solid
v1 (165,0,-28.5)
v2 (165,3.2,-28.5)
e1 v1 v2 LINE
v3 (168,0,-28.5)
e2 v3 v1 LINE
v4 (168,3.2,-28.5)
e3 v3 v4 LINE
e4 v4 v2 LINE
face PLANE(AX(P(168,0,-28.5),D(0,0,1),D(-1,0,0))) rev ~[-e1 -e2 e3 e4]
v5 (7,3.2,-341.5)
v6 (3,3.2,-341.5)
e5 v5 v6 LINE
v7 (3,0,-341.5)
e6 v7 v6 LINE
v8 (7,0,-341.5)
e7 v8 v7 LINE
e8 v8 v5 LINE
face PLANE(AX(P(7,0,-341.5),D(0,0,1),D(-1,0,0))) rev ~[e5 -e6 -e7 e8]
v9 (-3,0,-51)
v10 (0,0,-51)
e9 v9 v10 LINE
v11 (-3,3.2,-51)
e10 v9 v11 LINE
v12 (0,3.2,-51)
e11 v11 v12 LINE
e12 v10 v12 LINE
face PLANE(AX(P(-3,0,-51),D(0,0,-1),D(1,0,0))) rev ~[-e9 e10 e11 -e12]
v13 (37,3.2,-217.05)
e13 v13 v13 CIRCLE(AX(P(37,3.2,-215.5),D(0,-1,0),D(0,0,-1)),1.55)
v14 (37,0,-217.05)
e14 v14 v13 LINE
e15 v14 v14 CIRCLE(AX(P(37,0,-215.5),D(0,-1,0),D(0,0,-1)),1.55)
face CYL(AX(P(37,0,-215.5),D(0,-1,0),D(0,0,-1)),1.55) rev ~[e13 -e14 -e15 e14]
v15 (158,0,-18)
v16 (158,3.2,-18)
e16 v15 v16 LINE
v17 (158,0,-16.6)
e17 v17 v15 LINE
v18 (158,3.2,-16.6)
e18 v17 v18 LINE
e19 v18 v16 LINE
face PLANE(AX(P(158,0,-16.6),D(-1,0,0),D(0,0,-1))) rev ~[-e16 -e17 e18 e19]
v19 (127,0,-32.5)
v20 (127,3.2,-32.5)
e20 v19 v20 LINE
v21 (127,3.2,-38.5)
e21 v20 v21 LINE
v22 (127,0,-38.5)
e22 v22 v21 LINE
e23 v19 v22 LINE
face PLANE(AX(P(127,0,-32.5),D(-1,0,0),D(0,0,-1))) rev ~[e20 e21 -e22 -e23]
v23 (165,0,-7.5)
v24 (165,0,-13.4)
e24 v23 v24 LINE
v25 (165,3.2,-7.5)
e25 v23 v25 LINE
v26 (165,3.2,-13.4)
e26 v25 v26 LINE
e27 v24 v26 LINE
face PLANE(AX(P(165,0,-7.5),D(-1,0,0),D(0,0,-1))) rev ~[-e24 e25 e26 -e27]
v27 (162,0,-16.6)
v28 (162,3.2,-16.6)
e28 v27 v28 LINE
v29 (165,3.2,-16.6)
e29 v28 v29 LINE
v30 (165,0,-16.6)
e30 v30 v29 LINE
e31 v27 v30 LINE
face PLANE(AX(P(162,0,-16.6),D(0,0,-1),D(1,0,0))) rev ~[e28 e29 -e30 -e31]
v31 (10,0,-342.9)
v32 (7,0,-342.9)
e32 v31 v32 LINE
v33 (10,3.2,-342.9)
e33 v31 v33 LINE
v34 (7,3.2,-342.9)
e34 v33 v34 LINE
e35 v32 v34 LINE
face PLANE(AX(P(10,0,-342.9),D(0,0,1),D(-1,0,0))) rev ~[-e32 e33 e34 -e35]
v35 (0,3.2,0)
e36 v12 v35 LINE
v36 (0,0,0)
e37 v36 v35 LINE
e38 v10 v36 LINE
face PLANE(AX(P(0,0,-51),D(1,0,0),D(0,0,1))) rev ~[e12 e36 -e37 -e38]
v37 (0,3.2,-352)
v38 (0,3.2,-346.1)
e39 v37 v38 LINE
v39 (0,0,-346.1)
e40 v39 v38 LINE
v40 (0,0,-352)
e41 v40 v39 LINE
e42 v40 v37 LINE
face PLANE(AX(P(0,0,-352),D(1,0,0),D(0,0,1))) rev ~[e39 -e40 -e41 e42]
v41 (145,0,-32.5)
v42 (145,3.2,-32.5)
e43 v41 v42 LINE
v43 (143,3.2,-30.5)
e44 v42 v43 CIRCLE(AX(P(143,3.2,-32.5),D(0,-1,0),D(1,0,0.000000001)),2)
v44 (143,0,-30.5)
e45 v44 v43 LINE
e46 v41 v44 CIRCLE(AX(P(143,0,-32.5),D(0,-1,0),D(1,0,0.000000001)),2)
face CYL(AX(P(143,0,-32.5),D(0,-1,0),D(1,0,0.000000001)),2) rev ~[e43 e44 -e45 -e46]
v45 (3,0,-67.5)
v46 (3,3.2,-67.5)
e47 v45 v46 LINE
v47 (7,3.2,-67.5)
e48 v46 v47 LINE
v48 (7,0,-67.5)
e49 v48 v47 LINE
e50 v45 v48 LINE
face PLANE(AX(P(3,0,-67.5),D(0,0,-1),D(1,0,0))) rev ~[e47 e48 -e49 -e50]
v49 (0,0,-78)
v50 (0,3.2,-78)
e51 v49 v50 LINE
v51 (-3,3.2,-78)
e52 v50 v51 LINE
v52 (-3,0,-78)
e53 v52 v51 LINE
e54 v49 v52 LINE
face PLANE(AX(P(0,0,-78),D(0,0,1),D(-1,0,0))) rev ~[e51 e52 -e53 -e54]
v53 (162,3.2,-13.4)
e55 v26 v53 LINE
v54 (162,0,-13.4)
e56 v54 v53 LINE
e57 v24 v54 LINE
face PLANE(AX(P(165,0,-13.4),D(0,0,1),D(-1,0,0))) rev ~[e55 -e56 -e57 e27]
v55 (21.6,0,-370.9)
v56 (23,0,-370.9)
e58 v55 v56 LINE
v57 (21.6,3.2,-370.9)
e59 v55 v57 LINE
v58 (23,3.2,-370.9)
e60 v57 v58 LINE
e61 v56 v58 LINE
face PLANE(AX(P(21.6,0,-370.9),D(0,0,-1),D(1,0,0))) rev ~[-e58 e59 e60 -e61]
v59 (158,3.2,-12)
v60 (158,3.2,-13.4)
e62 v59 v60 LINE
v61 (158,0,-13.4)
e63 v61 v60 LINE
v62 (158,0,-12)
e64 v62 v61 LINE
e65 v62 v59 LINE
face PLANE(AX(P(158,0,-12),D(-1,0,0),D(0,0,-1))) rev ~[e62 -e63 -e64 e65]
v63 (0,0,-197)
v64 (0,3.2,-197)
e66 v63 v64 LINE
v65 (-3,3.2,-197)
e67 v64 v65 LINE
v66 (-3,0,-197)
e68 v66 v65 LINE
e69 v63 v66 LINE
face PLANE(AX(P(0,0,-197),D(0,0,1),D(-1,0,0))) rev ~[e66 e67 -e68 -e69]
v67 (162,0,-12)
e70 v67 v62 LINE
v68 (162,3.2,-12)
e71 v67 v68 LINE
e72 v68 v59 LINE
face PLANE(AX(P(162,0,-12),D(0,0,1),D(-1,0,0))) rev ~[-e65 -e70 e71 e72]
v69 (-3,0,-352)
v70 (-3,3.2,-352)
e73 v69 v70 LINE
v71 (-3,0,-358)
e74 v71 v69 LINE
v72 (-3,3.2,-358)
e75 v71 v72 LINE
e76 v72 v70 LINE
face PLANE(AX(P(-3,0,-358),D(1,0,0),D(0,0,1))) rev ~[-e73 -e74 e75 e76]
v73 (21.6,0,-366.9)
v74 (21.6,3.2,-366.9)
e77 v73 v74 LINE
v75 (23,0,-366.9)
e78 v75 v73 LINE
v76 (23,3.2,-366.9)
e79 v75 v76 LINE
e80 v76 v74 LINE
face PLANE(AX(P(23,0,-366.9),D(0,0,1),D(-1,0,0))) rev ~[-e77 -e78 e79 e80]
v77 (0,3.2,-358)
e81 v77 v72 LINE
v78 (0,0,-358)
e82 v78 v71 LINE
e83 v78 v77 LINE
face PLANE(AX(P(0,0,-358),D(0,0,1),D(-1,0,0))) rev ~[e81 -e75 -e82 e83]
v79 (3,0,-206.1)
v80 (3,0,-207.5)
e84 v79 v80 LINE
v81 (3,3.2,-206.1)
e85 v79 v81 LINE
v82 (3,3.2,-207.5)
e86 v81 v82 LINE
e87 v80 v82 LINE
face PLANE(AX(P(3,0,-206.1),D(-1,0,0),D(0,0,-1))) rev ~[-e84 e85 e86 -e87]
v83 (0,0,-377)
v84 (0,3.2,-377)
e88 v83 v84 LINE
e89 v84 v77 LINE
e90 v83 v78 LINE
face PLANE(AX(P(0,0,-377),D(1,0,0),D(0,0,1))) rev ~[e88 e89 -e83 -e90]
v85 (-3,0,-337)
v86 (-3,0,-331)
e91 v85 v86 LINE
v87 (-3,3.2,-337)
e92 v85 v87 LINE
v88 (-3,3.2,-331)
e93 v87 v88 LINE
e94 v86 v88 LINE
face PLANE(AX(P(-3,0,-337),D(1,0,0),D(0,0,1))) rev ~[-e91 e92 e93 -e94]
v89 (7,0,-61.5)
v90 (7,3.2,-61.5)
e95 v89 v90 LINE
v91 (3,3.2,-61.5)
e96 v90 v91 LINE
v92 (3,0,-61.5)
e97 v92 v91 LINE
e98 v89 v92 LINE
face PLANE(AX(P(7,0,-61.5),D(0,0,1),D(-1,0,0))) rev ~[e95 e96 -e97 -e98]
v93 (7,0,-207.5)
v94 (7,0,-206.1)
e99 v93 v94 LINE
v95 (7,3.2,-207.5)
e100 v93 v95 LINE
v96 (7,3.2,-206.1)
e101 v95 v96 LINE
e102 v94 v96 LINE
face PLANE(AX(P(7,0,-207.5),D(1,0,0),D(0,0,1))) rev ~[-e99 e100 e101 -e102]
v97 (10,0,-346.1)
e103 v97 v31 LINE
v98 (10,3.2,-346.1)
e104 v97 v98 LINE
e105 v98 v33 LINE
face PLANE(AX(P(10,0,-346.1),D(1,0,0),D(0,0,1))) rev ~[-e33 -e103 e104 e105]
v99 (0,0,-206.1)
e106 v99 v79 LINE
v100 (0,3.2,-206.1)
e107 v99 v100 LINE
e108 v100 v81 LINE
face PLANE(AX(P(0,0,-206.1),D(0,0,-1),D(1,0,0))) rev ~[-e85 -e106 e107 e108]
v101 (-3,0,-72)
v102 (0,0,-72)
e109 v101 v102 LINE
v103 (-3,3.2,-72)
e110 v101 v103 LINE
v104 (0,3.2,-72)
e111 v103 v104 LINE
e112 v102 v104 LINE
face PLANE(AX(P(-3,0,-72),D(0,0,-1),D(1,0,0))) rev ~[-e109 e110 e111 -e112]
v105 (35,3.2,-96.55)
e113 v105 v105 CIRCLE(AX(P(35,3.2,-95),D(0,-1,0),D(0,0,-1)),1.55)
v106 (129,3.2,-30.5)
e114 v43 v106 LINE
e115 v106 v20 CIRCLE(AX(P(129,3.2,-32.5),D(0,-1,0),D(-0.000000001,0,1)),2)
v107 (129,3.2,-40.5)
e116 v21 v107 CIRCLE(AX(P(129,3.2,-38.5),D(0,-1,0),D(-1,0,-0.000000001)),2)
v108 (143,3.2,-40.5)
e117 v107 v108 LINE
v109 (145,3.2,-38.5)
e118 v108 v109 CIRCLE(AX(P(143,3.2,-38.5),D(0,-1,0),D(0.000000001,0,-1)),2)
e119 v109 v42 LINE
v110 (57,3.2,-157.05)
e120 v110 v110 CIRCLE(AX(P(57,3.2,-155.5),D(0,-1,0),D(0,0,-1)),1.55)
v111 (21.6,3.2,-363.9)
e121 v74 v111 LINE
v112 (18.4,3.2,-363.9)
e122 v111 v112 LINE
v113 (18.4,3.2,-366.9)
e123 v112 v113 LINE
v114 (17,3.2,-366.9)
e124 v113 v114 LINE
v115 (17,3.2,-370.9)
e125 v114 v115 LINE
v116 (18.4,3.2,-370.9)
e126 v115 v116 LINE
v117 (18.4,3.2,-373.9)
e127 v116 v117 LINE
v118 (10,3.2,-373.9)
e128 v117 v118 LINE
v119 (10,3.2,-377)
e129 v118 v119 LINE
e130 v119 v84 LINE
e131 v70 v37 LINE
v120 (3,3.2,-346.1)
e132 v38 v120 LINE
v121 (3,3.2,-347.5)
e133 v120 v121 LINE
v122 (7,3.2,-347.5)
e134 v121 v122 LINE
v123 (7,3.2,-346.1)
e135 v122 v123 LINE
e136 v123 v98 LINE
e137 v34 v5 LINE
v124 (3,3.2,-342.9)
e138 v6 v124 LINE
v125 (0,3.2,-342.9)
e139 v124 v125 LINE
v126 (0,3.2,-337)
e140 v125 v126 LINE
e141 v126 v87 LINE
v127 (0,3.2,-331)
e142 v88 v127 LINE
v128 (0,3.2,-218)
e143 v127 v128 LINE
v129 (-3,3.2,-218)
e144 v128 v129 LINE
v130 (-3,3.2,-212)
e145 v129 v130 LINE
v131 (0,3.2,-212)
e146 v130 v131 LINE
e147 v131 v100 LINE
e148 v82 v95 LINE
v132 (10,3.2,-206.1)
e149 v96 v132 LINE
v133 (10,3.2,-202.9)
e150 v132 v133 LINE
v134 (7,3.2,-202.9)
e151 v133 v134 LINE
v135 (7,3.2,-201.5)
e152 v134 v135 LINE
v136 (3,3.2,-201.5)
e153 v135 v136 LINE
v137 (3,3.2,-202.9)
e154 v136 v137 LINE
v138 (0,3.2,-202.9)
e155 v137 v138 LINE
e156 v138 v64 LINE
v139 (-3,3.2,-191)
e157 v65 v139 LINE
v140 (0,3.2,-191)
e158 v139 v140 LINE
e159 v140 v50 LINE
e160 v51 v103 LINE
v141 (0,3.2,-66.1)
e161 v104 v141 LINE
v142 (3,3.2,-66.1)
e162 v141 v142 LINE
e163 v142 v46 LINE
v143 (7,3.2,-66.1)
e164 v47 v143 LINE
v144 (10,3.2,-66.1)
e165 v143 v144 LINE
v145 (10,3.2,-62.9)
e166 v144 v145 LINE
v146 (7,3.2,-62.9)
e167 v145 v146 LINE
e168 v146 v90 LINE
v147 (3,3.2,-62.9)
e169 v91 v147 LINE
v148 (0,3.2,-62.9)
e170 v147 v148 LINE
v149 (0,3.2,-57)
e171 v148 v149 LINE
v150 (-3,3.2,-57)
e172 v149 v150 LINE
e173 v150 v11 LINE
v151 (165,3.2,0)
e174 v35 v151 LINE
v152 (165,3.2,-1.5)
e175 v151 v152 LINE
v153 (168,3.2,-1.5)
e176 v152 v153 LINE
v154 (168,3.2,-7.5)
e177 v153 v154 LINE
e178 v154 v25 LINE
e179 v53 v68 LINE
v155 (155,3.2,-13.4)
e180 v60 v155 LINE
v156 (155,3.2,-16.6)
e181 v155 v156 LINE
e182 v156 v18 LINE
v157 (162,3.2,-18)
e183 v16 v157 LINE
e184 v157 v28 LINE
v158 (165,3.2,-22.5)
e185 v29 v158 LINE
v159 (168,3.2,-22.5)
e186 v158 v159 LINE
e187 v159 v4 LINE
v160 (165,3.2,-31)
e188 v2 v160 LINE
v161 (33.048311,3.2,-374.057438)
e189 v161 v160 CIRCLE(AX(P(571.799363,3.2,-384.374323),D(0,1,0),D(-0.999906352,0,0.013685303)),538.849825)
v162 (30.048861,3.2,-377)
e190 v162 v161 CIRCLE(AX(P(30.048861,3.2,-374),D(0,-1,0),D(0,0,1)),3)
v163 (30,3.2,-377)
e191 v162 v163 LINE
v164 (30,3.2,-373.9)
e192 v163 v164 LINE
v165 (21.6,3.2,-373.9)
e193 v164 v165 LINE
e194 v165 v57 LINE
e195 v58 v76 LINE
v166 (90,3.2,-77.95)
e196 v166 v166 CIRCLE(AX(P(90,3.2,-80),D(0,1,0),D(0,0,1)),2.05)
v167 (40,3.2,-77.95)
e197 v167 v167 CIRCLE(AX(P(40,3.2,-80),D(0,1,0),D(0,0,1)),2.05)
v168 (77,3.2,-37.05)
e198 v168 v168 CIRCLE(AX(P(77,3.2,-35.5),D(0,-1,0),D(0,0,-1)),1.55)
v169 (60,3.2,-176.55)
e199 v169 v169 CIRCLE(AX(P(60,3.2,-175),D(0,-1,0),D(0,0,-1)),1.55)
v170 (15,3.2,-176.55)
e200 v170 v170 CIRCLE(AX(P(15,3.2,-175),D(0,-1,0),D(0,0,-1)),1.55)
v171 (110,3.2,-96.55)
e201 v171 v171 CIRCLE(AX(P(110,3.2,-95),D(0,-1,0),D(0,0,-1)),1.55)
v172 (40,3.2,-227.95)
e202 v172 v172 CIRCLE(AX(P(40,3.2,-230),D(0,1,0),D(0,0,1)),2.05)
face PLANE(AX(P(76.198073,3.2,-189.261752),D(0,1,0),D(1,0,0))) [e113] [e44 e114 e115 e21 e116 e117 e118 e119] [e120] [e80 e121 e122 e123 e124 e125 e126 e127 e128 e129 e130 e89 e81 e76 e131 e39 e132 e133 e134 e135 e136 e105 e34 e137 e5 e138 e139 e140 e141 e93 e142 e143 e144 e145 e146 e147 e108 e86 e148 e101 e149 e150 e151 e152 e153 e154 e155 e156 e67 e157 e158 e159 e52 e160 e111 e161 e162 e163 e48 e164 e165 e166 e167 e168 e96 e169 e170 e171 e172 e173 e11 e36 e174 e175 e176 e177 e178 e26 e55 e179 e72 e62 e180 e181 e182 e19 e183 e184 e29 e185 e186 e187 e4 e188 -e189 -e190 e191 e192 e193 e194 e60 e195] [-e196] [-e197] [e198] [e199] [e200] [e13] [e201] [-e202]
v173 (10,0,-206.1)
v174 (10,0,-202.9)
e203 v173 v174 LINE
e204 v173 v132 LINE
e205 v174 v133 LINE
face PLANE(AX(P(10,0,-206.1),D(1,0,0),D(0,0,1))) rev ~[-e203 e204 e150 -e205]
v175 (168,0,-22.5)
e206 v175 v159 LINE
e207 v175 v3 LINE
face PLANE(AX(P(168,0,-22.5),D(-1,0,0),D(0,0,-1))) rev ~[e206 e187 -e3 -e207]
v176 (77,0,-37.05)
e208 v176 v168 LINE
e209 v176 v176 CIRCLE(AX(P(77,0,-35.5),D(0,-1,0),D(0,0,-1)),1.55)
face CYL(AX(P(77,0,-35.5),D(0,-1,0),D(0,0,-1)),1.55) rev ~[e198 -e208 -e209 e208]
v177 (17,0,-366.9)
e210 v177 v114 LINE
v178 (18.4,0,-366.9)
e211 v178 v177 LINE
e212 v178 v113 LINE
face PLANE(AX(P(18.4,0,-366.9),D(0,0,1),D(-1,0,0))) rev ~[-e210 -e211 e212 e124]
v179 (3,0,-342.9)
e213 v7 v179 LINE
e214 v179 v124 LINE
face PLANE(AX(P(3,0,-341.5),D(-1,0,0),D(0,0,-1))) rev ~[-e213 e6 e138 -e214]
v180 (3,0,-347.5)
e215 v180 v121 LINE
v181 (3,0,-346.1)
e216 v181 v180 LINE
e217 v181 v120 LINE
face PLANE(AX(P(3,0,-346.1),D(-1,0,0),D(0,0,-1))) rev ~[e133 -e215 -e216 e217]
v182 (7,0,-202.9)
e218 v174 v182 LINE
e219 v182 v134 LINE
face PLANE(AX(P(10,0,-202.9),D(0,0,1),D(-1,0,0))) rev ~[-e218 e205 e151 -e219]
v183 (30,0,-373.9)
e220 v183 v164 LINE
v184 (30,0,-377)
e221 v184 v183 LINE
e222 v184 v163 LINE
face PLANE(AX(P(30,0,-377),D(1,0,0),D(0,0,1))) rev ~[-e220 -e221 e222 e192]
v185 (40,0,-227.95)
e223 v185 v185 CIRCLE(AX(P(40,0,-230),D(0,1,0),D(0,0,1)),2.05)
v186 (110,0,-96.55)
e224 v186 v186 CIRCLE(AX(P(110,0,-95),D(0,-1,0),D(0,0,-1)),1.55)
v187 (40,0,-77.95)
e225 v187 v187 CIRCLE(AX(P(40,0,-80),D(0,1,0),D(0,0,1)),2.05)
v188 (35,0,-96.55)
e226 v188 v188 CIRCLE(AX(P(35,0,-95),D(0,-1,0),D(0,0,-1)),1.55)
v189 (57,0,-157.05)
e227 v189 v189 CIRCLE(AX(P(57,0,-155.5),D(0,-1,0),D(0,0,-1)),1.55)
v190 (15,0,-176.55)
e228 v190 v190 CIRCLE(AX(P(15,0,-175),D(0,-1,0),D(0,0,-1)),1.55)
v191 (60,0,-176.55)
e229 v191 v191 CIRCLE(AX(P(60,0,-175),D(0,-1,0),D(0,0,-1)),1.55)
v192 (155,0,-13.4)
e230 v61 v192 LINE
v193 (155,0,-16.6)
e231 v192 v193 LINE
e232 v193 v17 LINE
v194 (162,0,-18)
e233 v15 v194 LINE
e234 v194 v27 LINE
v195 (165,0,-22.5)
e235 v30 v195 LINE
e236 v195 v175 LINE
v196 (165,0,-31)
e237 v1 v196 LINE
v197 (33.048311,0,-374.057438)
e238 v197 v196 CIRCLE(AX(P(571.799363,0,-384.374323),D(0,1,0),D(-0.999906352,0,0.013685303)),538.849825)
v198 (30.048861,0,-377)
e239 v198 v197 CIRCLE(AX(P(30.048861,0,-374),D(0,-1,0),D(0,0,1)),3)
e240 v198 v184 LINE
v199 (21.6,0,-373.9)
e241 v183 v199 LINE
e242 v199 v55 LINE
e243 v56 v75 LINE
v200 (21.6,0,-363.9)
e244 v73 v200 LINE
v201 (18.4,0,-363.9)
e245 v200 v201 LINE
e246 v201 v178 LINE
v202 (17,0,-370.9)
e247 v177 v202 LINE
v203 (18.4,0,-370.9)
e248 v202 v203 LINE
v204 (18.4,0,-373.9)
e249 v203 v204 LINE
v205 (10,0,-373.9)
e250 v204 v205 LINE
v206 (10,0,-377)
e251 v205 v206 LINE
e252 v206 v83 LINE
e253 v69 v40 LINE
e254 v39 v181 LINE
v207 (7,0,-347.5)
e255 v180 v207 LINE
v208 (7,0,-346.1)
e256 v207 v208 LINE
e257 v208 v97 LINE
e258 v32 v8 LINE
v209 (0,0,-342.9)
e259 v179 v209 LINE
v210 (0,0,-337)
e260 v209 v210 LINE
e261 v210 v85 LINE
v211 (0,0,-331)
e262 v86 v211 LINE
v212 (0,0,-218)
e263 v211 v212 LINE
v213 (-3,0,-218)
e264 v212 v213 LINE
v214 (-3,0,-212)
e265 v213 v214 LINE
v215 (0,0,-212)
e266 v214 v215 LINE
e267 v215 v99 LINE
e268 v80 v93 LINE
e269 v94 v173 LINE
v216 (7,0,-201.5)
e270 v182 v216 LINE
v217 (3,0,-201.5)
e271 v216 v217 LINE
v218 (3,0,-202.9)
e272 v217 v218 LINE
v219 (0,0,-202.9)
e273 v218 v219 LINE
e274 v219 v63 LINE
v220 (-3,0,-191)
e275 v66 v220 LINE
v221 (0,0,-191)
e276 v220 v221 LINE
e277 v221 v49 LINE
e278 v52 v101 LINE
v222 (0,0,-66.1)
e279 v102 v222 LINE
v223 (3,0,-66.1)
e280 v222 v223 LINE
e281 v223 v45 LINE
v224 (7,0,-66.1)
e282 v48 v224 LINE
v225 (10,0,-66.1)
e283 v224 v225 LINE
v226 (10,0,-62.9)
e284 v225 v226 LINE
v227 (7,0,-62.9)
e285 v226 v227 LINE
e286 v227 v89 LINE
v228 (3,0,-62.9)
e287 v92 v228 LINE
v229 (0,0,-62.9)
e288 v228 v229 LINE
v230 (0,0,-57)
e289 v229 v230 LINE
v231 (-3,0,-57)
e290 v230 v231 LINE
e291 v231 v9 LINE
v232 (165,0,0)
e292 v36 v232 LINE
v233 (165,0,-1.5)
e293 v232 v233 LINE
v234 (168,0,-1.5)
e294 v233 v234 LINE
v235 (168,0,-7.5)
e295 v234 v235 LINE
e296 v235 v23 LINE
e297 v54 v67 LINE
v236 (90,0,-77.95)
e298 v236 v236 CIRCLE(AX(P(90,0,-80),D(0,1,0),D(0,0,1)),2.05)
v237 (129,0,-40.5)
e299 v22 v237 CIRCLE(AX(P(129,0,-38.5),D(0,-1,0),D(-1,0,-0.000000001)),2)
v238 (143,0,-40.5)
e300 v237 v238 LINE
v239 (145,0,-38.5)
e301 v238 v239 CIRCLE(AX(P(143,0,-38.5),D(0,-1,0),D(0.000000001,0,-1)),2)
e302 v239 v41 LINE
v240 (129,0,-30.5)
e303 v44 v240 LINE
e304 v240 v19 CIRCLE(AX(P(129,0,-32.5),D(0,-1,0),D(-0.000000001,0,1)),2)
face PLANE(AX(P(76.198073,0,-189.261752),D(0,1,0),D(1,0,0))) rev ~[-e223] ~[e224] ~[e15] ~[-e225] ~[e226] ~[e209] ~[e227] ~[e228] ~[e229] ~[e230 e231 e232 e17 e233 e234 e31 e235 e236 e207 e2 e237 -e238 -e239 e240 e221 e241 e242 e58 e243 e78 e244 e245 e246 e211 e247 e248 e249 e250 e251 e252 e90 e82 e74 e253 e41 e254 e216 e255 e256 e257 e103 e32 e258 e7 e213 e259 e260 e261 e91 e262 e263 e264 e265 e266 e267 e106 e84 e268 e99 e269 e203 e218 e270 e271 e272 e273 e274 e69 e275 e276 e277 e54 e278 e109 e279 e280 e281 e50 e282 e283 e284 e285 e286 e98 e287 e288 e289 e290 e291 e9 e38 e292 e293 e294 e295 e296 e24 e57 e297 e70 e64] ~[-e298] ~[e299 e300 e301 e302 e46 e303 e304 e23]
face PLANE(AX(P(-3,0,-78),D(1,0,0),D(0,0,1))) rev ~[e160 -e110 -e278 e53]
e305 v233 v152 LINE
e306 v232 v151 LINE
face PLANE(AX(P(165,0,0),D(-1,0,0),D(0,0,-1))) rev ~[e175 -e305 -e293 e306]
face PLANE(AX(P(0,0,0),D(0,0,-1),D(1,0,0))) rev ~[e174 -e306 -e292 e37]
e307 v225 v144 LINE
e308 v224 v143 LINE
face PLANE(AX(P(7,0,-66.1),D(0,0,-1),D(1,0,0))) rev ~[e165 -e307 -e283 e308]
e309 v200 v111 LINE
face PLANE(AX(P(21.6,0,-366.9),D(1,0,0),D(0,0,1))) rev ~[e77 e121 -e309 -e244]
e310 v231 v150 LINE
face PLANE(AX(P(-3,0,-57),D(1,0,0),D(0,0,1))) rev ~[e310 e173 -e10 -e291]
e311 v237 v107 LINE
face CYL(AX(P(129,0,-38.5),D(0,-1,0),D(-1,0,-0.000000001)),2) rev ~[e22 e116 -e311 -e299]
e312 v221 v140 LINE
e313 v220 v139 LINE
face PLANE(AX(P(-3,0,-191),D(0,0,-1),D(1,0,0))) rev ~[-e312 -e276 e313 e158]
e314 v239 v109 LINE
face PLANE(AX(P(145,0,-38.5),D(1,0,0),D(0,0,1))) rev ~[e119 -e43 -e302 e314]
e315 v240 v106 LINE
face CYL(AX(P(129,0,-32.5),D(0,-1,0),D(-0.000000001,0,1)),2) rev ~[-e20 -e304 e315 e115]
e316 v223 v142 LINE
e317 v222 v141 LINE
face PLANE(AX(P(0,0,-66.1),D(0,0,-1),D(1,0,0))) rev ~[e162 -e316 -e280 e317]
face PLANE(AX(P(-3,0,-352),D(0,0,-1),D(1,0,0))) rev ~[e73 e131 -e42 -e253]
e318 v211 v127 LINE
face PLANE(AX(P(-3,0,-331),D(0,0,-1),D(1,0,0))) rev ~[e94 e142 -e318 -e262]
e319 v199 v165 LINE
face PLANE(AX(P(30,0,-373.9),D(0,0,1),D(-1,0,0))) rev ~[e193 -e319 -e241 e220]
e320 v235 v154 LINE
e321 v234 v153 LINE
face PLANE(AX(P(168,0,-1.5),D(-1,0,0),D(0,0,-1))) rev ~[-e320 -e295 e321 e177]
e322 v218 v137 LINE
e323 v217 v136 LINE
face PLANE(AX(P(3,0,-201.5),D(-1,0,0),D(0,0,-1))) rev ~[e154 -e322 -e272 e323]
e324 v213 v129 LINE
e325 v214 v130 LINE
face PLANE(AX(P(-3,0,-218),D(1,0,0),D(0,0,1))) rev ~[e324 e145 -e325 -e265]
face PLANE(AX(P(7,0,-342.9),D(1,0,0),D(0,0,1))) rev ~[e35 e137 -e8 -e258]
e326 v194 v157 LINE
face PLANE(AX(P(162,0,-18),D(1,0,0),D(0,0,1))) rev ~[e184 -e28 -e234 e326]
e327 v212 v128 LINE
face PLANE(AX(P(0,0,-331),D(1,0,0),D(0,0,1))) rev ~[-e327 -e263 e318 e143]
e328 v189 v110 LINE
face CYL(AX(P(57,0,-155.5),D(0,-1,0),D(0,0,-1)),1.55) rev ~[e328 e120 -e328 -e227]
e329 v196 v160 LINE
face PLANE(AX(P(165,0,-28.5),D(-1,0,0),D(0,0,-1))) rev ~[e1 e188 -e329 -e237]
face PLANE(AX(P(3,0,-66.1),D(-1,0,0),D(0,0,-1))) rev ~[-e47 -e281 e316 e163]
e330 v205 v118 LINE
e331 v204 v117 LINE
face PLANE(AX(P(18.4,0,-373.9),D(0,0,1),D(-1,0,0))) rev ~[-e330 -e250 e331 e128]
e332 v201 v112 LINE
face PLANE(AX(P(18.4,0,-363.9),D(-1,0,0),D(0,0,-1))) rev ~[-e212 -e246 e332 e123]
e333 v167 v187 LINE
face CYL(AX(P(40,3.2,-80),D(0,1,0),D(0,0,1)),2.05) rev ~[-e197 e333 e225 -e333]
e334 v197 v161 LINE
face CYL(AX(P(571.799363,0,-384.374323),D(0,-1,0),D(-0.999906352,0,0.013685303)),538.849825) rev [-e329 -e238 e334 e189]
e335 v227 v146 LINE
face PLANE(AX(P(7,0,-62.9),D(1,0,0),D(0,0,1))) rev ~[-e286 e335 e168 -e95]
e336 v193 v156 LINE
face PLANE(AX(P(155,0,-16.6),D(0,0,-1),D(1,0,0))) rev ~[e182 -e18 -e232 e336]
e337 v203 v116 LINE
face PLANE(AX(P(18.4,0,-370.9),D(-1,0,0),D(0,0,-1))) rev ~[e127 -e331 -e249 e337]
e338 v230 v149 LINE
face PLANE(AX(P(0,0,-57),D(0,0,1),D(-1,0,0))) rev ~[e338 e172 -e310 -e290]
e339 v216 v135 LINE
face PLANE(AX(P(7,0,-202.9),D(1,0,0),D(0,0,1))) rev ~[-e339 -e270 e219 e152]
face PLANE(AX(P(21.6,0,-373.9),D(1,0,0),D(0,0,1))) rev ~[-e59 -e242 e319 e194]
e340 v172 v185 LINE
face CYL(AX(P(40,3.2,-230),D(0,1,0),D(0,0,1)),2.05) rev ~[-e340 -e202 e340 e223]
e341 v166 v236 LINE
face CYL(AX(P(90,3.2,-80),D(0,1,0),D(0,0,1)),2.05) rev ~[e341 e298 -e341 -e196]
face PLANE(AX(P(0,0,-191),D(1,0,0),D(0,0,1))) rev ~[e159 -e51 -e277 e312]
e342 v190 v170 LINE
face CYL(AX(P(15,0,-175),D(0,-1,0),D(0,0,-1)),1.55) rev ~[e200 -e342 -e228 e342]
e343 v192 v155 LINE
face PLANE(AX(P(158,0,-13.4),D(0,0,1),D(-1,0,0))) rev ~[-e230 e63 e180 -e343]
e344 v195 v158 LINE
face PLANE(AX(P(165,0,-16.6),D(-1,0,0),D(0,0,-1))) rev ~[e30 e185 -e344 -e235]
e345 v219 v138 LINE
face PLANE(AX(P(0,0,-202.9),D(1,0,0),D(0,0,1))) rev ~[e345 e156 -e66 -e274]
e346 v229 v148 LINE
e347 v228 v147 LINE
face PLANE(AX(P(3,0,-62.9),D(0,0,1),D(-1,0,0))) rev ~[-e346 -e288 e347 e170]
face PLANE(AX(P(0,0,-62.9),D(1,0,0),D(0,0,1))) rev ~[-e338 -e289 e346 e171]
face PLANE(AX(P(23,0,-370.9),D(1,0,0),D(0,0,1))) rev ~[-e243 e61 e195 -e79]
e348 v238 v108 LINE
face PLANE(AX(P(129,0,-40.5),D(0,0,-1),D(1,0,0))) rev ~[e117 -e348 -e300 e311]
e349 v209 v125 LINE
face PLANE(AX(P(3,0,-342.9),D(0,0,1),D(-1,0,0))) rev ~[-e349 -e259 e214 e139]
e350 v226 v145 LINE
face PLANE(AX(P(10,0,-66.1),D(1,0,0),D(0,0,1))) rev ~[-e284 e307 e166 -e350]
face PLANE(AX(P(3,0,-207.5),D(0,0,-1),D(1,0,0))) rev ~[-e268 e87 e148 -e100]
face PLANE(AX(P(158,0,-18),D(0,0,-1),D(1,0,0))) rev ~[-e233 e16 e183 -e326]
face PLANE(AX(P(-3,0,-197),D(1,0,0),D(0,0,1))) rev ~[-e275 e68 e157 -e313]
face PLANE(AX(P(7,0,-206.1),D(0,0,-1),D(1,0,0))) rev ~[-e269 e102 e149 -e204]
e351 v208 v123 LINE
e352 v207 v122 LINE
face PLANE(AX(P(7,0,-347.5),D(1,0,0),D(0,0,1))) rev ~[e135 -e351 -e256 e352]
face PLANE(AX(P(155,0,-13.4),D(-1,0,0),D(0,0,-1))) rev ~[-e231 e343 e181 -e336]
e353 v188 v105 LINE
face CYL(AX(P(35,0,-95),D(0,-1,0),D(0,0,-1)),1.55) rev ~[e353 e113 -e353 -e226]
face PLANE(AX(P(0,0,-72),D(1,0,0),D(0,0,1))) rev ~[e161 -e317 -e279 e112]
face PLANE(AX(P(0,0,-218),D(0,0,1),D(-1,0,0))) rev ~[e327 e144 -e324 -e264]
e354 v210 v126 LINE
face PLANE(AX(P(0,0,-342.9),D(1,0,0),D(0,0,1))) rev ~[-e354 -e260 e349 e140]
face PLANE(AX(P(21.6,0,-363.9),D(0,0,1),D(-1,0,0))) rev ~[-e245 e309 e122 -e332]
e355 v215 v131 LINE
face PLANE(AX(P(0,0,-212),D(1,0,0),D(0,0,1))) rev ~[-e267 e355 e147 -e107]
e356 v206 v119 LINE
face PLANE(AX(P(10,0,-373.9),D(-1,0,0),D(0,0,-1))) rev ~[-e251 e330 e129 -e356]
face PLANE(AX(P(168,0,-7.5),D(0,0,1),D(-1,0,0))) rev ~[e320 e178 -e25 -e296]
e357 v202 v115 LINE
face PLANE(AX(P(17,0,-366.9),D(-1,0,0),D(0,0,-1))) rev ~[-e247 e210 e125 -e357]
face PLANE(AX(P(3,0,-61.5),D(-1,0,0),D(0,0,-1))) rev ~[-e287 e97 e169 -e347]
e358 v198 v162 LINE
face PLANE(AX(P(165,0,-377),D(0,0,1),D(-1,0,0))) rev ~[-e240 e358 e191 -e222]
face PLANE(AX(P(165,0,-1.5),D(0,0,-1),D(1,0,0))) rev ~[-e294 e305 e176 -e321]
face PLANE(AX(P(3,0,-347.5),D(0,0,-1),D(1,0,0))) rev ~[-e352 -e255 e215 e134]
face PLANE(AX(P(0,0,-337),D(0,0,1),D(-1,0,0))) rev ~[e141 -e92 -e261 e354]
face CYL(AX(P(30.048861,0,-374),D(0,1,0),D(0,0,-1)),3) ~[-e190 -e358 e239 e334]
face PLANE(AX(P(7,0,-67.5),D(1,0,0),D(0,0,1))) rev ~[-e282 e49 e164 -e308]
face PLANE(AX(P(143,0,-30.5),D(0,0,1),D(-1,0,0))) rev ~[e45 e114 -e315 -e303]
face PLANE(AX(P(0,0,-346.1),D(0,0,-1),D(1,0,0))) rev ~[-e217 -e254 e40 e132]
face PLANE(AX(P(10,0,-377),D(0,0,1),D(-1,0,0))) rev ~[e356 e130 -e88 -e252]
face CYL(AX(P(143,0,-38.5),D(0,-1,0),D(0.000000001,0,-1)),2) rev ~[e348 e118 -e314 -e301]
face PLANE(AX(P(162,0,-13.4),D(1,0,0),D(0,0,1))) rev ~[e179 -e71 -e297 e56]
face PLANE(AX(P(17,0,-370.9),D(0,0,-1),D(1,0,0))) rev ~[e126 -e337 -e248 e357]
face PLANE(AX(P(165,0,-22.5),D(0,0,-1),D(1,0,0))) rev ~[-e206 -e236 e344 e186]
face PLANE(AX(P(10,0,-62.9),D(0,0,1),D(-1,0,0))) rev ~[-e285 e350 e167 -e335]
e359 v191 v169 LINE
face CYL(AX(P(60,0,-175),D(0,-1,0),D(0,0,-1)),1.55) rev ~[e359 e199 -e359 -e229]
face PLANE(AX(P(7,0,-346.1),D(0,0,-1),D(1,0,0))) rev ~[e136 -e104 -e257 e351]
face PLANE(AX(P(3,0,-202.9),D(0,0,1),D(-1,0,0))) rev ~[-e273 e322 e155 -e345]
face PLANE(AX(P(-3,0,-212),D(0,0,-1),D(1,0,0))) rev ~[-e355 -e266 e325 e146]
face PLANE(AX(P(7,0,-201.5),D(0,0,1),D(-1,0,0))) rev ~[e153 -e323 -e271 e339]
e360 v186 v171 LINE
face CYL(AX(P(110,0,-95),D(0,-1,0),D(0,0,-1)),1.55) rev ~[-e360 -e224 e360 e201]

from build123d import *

# Parameters (mm, degrees)
SALIENTE_EXTRUIR1_DEPTH = 3.2
CORTAR_EXTRUIR1_DEPTH   = 3.2
REDONDEO1_R             = 3
CROQUIS3_R              = 2.05
CORTAR_EXTRUIR2_DEPTH   = 3.2
CORTAR_EXTRUIR3_DEPTH   = 3.2
CROQUIS5_R              = 1.55
CORTAR_EXTRUIR4_DEPTH   = 3.2


with BuildPart() as part:
    # Croquis1 → Saliente-Extruir1 (new body)
    with BuildSketch(Plane(origin=(0, 0, 0), x_dir=(1, 0, 0), z_dir=(0, 1, 0))):
        Polygon((7, 66.1), (10, 66.1), (10, 62.9), (7, 62.9), (7, 61.5), (3, 61.5), (3, 62.9), (0, 62.9), (0, 57), (-3, 57), (-3, 51), (0, 51), (0, 0), (165, 0), (165, 1.5), (168, 1.5), (168, 7.5), (165, 7.5), (165, 13.4), (162, 13.4), (162, 12), (158, 12), (158, 13.4), (155, 13.4), (155, 16.6), (158, 16.6), (158, 18), (162, 18), (162, 16.6), (165, 16.6), (165, 22.5), (168, 22.5), (168, 28.5), (165, 28.5), (165, 377), (30, 377), (30, 373.9), (21.6, 373.9), (21.6, 370.9), (23, 370.9), (23, 366.9), (21.6, 366.9), (21.6, 363.9), (18.4, 363.9), (18.4, 366.9), (17, 366.9), (17, 370.9), (18.4, 370.9), (18.4, 373.9), (10, 373.9), (10, 377), (0, 377), (0, 358), (-3, 358), (-3, 352), (0, 352), (0, 346.1), (3, 346.1), (3, 347.5), (7, 347.5), (7, 346.1), (10, 346.1), (10, 342.9), (7, 342.9), (7, 341.5), (3, 341.5), (3, 342.9), (0, 342.9), (0, 337), (-3, 337), (-3, 331), (0, 331), (0, 218), (-3, 218), (-3, 212), (0, 212), (0, 206.1), (3, 206.1), (3, 207.5), (7, 207.5), (7, 206.1), (10, 206.1), (10, 202.9), (7, 202.9), (7, 201.5), (3, 201.5), (3, 202.9), (0, 202.9), (0, 197), (-3, 197), (-3, 191), (0, 191), (0, 78), (-3, 78), (-3, 72), (0, 72), (0, 66.1), (3, 66.1), (3, 67.5), (7, 67.5), align=None)
    extrude(amount=SALIENTE_EXTRUIR1_DEPTH)

    # Croquis2 → Cortar-Extruir1 (cut)
    with BuildSketch(Plane.XZ):
        with BuildLine():
            Line((165, -377), (33, -377))
            ThreePointArc((33, -377), (68.343071274, -192.304293087), (165, -31))
            Line((165, -31), (165, -377))
        make_face()
    extrude(amount=-CORTAR_EXTRUIR1_DEPTH, mode=Mode.SUBTRACT)

    # Redondeo1
    redondeo1_edges = [part.edges().sort_by_distance(p)[0] for p in [
        (33, 1.6, -377),
    ]]
    fillet(redondeo1_edges, radius=REDONDEO1_R)

    # Croquis3 → Cortar-Extruir2 (cut)
    with BuildSketch(Plane(origin=(0, 3.2, 0), x_dir=(1, 0, 0), z_dir=(0, 1, 0))):
        with Locations(Location((40, 80, 0), (0, 0, 270))):
            Circle(CROQUIS3_R)
        with Locations(Location((90, 80, 0), (0, 0, 270))):
            Circle(CROQUIS3_R)
        with Locations(Location((40, 230, 0), (0, 0, 270))):
            Circle(CROQUIS3_R)
    extrude(amount=-CORTAR_EXTRUIR2_DEPTH, mode=Mode.SUBTRACT)

    # Croquis4 → Cortar-Extruir3 (cut)
    with BuildSketch(Plane.XZ):
        with BuildLine():
            Line((143, -30.5), (129, -30.5))
            ThreePointArc((129, -30.5), (127.585786438, -31.085786438), (127, -32.5))
            Line((127, -32.5), (127, -38.5))
            ThreePointArc((127, -38.5), (127.585786438, -39.914213562), (129, -40.5))
            Line((129, -40.5), (143, -40.5))
            ThreePointArc((143, -40.5), (144.414213562, -39.914213562), (145, -38.5))
            Line((145, -38.5), (145, -32.5))
            ThreePointArc((145, -32.5), (144.414213562, -31.085786438), (143, -30.5))
        make_face()
    extrude(amount=-CORTAR_EXTRUIR3_DEPTH, mode=Mode.SUBTRACT)

    # Croquis5 → Cortar-Extruir4 (cut)
    with BuildSketch(Plane.XZ):
        with Locations(Location((110, -95, 0), (0, 0, 270))):
            Circle(CROQUIS5_R)
        with Locations(Location((35, -95, 0), (0, 0, 270))):
            Circle(CROQUIS5_R)
        with Locations(Location((15, -175, 0), (0, 0, 270))):
            Circle(CROQUIS5_R)
        with Locations(Location((60, -175, 0), (0, 0, 270))):
            Circle(CROQUIS5_R)
        with Locations(Location((77, -35.5, 0), (0, 0, 270))):
            Circle(CROQUIS5_R)
        with Locations(Location((37, -215.5, 0), (0, 0, 270))):
            Circle(CROQUIS5_R)
        with Locations(Location((57, -155.5, 0), (0, 0, 270))):
            Circle(CROQUIS5_R)
    extrude(amount=-CORTAR_EXTRUIR4_DEPTH, mode=Mode.SUBTRACT)


solid = part.part
